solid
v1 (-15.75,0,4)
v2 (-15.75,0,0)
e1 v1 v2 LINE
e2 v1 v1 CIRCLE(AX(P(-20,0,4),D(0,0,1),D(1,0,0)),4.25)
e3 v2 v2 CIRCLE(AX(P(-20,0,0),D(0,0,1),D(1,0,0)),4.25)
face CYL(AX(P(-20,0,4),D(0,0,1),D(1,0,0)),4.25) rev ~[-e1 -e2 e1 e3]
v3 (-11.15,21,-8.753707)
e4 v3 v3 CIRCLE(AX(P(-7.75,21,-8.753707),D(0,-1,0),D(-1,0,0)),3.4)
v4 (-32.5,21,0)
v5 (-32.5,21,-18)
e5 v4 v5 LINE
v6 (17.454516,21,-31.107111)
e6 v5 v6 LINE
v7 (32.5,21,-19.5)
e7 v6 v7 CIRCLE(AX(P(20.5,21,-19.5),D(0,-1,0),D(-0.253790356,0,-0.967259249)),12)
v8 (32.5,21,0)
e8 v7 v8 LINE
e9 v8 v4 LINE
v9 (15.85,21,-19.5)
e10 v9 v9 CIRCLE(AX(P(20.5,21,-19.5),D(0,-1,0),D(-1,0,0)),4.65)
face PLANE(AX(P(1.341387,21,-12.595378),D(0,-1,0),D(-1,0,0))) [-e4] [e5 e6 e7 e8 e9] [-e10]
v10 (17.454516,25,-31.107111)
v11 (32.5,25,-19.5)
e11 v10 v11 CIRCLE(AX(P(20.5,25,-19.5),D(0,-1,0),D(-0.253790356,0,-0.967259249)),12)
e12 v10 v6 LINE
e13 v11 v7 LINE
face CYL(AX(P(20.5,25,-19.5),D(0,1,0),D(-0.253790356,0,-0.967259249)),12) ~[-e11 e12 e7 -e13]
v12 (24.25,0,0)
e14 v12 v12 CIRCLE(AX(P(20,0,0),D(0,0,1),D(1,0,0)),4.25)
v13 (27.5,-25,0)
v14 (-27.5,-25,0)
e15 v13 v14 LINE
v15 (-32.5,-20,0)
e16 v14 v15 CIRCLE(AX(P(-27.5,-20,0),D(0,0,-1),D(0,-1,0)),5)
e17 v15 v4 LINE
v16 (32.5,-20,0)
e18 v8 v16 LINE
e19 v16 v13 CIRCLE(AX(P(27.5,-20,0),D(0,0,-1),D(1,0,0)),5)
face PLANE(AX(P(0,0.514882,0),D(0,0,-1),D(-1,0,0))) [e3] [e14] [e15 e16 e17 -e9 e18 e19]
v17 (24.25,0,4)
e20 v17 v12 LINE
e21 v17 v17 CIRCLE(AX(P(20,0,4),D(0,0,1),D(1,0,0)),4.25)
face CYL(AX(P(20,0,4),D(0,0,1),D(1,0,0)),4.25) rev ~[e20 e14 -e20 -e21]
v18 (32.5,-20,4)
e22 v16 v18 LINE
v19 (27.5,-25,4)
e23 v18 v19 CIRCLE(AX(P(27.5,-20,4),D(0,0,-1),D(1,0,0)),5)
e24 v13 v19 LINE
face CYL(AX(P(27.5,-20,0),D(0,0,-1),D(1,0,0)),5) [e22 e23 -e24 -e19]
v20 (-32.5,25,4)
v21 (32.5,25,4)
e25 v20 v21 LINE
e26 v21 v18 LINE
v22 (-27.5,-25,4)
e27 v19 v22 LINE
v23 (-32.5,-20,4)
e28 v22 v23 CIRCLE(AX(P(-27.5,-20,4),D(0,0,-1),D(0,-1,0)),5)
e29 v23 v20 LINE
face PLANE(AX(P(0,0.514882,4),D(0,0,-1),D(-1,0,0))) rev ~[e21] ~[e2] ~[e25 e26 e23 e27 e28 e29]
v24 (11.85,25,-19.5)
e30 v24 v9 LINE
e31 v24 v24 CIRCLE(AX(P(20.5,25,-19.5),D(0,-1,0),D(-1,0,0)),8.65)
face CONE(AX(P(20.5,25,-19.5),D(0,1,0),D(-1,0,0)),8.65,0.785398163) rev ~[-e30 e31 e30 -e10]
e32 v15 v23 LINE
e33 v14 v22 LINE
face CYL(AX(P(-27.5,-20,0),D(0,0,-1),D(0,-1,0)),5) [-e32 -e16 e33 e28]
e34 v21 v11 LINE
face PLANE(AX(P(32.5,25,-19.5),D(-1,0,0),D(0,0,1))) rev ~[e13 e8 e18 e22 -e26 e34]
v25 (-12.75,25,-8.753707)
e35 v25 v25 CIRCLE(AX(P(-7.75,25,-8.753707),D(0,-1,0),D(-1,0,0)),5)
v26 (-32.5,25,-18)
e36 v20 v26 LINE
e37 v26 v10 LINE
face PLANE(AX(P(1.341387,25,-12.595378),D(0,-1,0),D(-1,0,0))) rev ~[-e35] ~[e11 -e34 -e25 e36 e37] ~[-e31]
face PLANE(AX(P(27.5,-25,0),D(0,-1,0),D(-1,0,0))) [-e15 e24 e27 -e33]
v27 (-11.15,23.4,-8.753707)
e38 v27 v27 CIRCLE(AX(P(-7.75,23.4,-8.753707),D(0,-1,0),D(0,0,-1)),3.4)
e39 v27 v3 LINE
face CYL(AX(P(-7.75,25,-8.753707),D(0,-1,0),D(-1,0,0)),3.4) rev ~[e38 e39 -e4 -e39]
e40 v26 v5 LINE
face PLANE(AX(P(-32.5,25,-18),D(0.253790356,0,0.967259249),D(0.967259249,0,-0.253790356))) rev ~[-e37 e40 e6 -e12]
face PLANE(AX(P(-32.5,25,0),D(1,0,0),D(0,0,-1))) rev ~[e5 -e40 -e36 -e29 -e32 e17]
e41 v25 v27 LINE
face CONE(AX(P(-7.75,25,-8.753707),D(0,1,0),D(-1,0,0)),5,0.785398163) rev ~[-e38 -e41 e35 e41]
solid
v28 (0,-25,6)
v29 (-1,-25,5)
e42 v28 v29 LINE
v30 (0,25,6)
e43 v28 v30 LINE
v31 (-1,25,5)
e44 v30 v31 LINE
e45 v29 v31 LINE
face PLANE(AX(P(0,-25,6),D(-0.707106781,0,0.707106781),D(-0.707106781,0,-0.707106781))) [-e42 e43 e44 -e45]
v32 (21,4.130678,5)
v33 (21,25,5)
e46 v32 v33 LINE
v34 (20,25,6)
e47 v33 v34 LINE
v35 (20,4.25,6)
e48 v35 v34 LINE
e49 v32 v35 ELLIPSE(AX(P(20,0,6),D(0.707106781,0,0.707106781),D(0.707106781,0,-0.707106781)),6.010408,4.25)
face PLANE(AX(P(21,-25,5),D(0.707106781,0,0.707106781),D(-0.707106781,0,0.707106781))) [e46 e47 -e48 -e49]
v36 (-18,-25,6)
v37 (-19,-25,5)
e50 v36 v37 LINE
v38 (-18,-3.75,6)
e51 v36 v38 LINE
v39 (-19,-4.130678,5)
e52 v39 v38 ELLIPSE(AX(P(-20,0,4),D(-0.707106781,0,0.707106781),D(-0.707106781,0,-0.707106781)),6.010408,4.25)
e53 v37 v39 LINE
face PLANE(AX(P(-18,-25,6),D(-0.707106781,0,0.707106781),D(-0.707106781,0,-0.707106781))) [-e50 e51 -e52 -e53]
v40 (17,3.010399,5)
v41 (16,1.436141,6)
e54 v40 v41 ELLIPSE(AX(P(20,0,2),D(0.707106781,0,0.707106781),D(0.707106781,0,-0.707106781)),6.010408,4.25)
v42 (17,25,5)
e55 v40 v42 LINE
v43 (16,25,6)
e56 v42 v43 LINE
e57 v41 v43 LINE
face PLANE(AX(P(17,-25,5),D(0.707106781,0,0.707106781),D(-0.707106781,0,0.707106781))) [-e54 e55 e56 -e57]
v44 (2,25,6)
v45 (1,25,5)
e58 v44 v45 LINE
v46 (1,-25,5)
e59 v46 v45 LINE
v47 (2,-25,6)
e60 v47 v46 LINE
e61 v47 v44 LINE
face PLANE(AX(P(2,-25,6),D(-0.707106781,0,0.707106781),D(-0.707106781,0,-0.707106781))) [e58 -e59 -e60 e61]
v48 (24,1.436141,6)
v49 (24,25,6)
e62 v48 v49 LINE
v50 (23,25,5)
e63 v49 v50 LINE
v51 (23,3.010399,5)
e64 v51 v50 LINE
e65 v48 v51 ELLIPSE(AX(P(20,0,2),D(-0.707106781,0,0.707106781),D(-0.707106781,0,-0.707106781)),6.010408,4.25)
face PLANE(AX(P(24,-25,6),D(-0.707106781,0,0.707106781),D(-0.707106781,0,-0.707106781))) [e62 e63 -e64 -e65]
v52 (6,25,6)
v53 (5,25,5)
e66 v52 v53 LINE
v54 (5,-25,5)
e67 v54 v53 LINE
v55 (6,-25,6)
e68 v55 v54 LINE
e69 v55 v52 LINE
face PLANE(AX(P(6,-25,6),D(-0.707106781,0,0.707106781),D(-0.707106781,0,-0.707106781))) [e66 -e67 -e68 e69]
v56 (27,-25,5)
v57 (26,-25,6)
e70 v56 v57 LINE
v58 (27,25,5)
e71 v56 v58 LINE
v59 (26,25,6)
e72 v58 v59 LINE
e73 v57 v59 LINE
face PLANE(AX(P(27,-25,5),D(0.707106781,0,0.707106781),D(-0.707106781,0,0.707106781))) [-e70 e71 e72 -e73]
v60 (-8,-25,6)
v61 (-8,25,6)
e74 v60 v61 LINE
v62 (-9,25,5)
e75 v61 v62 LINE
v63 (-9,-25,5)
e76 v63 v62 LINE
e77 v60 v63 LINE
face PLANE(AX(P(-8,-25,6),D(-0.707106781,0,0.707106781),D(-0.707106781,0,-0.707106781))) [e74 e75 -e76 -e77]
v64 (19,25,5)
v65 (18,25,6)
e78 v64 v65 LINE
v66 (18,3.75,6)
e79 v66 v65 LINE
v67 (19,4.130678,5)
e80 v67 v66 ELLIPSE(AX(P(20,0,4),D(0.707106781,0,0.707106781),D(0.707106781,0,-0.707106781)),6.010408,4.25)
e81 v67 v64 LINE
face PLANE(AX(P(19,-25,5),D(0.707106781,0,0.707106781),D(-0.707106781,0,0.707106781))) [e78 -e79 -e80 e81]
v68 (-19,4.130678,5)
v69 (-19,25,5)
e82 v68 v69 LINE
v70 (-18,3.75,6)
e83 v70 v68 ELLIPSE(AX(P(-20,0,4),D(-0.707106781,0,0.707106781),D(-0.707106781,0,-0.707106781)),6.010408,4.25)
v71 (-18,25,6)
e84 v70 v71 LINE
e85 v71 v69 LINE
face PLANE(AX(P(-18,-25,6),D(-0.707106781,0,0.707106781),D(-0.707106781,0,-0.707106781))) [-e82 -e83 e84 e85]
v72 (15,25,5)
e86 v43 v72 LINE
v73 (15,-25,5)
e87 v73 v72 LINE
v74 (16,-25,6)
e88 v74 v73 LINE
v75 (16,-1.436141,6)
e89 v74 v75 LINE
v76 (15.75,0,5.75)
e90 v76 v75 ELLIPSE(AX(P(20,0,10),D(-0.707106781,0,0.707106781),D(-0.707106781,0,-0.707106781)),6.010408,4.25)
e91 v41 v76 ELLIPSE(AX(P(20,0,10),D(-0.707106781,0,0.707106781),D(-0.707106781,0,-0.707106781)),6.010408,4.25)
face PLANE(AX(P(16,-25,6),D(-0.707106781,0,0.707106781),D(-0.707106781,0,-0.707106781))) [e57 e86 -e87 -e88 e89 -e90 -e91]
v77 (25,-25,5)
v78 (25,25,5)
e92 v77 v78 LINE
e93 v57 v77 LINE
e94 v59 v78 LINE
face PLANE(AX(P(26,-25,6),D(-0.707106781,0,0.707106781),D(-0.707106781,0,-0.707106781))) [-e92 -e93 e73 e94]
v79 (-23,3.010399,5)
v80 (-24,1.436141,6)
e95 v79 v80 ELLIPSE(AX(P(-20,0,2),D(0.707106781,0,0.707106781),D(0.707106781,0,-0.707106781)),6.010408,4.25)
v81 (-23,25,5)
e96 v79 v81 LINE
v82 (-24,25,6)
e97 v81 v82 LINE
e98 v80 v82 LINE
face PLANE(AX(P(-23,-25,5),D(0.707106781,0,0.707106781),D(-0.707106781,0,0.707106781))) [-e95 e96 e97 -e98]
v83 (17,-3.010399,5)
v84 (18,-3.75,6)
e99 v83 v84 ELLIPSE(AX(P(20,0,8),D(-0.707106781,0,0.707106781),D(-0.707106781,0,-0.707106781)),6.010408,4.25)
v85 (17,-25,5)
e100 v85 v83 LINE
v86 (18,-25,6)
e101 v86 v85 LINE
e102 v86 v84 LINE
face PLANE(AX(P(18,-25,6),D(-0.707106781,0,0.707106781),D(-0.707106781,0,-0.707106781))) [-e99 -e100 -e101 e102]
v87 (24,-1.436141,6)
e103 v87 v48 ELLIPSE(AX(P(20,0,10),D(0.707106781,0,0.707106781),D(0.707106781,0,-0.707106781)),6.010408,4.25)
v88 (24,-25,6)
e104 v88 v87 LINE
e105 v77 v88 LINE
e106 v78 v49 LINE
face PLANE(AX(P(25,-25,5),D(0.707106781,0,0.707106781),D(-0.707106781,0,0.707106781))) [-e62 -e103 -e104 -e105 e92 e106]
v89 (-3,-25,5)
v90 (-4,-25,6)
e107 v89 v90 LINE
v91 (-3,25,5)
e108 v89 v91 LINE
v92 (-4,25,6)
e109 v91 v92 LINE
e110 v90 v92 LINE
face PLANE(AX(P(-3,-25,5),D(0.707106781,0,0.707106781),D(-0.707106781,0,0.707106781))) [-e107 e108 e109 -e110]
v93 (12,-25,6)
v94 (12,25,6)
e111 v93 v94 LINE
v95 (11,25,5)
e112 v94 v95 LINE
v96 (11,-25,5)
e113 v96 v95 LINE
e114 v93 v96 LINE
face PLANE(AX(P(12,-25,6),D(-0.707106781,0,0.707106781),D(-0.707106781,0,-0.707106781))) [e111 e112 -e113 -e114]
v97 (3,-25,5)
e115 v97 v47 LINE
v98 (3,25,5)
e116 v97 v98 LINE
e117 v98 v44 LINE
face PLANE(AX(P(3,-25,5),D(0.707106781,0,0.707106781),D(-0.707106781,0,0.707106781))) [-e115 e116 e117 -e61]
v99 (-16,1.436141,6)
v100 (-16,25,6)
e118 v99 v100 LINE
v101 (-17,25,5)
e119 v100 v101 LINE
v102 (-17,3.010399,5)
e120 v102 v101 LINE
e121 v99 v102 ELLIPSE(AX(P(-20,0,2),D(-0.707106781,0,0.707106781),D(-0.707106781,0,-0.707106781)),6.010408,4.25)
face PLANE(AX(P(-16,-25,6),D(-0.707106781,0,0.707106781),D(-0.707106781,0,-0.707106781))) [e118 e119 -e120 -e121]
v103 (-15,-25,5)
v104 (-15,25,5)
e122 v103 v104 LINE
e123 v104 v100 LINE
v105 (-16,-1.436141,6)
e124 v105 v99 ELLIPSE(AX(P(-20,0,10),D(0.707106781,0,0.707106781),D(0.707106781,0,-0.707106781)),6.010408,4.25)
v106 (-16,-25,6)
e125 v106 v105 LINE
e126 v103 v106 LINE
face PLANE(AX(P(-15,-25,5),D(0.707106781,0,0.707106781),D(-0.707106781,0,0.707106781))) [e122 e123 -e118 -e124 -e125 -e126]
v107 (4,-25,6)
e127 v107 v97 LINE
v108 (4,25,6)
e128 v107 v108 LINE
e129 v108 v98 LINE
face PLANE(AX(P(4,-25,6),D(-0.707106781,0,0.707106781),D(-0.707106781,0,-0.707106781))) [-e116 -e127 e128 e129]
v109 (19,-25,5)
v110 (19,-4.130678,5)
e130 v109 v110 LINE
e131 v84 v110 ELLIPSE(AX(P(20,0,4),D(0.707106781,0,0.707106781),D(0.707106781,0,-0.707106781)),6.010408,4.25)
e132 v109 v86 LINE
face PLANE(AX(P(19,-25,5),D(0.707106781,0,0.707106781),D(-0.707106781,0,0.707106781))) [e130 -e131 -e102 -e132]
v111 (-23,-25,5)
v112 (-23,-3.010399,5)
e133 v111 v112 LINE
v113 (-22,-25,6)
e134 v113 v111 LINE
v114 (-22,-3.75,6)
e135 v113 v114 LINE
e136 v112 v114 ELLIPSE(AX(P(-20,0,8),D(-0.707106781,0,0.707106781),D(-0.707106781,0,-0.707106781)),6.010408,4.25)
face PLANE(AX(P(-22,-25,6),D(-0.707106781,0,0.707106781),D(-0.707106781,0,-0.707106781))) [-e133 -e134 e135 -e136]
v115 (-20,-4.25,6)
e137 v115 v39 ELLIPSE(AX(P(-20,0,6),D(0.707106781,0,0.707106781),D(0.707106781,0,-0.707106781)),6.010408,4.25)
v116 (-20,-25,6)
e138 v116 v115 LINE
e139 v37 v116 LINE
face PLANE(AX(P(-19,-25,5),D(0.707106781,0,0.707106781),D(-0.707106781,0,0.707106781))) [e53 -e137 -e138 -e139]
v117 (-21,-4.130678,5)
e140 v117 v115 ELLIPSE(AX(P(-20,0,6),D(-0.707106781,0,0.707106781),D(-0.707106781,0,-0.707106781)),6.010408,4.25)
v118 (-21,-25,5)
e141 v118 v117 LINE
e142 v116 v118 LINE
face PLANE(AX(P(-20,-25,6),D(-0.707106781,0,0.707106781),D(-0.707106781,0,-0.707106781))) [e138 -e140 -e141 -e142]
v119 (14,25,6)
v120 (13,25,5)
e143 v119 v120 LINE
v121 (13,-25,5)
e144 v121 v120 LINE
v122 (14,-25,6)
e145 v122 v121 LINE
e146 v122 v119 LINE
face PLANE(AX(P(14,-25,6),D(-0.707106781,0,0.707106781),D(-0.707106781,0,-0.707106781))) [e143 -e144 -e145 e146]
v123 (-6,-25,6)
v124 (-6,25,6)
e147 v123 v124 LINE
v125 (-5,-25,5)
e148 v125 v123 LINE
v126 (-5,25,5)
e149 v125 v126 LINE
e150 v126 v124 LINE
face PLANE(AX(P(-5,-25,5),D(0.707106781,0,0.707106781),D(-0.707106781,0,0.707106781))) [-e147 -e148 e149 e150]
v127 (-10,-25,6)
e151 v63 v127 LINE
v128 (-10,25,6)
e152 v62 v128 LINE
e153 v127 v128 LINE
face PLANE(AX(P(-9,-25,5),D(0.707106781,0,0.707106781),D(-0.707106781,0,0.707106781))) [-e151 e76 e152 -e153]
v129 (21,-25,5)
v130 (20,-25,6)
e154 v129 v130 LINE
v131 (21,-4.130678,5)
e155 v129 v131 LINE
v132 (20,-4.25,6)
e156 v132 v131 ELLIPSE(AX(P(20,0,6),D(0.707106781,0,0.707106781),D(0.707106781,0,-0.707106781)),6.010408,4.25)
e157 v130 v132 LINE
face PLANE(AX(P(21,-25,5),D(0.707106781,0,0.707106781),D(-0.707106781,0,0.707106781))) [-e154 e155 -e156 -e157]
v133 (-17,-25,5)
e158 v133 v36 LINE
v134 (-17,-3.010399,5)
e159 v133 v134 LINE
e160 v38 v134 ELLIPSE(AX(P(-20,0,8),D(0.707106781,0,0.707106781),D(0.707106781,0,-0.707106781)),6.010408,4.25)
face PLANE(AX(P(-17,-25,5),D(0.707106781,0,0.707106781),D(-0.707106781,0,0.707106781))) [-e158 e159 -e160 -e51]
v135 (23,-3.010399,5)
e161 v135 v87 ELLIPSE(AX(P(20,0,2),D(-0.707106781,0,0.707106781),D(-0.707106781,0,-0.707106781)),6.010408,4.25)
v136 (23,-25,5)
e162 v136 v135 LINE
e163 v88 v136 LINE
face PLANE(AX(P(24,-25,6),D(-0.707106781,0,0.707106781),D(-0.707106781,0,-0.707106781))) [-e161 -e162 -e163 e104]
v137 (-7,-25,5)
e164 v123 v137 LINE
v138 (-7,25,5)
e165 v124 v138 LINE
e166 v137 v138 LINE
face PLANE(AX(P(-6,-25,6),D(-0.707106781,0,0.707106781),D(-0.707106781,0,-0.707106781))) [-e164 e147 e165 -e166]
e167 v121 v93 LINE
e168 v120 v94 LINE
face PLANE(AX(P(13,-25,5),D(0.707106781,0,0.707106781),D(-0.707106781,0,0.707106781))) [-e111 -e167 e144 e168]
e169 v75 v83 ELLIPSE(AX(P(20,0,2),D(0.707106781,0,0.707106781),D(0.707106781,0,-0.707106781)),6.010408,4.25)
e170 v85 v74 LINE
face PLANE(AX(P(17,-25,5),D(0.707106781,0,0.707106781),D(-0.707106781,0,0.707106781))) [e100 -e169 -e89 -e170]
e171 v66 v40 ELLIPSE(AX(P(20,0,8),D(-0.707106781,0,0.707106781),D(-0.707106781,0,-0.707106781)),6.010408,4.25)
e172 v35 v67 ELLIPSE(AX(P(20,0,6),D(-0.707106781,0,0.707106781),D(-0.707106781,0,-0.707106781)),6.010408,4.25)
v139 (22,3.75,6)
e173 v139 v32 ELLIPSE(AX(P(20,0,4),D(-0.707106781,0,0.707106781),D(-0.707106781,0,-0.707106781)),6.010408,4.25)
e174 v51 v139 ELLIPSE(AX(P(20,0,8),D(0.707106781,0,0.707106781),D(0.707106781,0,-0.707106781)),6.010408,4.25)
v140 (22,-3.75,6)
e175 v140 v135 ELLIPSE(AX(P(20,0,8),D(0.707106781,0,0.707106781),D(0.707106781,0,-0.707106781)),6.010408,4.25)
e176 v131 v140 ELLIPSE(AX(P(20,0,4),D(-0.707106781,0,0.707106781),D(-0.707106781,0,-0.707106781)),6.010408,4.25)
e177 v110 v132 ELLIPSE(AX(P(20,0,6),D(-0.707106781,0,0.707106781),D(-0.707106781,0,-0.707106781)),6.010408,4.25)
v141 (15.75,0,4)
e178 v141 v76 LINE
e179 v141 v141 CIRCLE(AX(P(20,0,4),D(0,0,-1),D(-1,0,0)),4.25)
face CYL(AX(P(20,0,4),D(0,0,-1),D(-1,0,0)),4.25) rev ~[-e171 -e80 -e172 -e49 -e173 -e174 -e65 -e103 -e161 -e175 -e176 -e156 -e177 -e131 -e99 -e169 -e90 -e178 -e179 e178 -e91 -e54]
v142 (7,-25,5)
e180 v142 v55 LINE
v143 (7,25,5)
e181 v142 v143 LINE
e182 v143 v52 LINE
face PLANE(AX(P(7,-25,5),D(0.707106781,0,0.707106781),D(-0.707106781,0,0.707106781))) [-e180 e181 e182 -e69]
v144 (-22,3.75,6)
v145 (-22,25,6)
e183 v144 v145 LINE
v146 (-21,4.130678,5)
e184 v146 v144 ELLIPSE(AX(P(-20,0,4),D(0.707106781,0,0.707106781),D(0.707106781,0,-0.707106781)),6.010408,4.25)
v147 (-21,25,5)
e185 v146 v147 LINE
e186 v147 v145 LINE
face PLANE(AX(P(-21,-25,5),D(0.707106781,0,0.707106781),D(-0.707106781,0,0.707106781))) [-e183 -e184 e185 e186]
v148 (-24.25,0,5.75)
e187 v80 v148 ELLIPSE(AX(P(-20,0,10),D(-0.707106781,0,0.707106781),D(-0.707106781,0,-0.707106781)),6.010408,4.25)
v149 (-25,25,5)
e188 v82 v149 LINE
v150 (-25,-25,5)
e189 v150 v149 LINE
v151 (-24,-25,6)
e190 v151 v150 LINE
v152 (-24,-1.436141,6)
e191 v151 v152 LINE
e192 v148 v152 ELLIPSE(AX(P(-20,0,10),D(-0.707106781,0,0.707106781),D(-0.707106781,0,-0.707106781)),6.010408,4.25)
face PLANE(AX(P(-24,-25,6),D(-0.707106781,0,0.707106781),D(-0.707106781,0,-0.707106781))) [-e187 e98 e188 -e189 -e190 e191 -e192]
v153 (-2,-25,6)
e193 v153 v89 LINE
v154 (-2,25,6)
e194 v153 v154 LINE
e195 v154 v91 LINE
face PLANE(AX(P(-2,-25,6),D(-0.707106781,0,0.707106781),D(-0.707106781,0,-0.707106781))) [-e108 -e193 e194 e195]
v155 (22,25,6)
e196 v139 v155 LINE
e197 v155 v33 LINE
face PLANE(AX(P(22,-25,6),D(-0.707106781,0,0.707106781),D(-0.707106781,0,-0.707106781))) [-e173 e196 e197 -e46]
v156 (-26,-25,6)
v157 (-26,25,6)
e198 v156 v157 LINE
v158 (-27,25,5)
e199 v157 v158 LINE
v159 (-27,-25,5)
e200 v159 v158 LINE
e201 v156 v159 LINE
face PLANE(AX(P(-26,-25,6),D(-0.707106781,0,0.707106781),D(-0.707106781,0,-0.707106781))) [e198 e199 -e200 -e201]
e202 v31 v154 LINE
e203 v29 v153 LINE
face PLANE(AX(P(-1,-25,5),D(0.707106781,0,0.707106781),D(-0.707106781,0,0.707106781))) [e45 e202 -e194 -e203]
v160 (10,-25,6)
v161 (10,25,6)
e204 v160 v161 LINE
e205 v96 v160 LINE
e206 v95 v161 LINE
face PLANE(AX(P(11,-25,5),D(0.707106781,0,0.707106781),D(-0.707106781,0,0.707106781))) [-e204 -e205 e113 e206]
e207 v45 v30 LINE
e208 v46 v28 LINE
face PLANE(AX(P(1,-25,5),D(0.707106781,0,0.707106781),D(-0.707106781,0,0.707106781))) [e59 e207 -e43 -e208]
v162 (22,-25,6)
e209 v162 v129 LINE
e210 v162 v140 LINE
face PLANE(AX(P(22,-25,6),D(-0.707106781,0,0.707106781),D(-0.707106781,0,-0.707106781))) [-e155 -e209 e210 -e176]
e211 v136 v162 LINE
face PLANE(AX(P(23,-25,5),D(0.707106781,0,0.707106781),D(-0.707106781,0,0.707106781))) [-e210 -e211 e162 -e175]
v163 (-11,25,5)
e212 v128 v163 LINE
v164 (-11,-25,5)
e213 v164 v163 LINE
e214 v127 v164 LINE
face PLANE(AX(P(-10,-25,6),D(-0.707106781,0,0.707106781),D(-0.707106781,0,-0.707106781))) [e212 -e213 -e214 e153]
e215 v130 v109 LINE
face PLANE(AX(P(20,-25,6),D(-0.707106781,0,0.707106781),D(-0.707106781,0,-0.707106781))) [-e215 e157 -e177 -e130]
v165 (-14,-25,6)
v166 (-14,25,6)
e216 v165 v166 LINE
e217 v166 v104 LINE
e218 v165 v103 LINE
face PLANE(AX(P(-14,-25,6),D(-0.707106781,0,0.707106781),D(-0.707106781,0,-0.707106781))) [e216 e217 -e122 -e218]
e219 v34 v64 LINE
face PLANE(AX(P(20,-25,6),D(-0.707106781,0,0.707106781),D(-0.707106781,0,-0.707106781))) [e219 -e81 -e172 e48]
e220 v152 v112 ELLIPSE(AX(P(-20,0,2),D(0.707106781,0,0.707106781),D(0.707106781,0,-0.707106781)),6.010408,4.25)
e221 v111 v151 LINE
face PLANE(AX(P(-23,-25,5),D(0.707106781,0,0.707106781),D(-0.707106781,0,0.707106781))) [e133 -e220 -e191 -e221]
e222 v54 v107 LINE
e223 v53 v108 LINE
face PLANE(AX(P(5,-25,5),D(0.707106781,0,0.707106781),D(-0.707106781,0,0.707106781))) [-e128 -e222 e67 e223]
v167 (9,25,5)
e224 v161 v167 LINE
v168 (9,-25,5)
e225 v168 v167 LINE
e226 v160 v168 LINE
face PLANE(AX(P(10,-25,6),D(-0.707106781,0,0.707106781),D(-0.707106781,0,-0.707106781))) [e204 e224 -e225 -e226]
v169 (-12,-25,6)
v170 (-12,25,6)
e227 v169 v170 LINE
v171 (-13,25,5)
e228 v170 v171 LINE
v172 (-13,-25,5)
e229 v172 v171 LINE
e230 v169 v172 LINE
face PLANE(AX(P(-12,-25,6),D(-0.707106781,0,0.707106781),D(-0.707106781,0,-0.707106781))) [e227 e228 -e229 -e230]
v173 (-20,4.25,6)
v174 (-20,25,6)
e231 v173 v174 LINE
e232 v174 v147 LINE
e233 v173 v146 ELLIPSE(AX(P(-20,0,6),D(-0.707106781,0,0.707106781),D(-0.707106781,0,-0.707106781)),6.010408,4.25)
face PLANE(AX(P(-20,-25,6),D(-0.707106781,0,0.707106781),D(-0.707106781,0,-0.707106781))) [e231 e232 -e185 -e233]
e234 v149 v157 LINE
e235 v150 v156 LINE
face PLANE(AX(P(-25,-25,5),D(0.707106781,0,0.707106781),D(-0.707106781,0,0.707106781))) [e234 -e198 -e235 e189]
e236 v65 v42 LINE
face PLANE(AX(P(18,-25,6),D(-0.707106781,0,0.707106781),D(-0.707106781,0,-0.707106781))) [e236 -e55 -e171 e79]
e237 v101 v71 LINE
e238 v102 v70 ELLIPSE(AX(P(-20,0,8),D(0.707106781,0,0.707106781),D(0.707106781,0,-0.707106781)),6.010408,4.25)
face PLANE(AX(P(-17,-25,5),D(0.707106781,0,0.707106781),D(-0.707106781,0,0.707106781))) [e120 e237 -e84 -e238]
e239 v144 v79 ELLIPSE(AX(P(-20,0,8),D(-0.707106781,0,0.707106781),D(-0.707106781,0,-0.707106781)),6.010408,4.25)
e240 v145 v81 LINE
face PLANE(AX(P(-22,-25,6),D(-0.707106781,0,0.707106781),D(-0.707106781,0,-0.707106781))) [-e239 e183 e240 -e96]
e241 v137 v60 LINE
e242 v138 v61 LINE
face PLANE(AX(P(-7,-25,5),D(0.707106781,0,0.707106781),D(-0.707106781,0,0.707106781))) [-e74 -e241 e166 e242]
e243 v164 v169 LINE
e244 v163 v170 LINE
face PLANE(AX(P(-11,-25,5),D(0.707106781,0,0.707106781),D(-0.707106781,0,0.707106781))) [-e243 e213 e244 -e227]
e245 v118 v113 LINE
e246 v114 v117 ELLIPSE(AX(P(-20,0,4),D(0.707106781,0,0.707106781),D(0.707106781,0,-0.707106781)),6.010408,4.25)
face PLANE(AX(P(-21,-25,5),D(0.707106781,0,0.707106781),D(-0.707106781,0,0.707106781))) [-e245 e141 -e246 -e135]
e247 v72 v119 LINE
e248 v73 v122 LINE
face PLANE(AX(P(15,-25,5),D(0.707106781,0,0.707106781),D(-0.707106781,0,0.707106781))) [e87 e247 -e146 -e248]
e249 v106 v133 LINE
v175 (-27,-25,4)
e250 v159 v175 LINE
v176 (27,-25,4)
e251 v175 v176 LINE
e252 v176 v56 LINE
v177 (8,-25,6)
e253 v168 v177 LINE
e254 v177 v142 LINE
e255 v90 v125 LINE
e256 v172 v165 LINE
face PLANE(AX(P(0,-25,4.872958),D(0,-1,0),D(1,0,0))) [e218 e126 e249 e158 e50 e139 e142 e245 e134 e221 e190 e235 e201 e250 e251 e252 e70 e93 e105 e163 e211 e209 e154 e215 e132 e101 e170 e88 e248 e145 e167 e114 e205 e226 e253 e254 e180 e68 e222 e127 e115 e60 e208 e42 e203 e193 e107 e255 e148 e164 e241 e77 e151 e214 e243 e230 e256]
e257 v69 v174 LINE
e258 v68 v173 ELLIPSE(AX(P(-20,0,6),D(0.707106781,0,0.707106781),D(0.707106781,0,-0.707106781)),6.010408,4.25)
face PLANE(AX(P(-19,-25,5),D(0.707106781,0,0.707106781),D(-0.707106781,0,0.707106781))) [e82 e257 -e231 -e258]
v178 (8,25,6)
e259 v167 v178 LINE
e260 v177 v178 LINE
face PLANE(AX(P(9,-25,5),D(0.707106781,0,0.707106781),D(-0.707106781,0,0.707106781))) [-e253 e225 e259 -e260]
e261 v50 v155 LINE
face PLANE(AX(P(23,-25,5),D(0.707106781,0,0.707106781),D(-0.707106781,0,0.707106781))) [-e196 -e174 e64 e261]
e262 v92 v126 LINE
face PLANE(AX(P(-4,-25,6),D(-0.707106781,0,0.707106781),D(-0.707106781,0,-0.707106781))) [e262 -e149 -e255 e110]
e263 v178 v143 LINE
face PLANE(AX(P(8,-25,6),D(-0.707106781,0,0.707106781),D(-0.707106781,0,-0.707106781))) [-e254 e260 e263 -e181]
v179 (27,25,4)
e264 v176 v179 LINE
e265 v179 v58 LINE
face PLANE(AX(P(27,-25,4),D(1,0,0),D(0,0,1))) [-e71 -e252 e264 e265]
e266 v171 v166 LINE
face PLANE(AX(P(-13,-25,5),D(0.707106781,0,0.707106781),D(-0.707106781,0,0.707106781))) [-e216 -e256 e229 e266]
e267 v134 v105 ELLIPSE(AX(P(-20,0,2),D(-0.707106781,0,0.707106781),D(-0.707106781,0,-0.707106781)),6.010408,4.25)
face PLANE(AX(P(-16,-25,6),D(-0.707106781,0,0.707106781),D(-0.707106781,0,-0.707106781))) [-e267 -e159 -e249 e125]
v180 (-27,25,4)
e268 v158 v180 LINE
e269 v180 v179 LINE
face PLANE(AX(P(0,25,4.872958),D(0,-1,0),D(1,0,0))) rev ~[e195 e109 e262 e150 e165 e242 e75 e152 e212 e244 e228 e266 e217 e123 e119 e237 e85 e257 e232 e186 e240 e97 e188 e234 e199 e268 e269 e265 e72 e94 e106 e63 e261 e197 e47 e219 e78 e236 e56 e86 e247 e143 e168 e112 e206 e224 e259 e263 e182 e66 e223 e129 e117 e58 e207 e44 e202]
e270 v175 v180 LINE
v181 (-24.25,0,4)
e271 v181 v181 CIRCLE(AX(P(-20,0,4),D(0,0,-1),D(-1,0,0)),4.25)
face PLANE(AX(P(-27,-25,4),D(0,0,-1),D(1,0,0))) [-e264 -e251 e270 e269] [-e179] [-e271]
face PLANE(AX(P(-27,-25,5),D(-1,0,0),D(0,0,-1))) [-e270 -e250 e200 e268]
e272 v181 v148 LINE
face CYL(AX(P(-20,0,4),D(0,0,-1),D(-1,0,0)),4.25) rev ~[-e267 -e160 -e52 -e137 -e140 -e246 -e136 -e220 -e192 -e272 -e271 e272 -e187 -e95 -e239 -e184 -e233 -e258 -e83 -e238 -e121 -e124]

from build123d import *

# Parameters (mm, degrees)
BOSS_EXTRU_1_DEPTH                             = 4
BOSS_EXTRU_2_DEPTH                             = 4
ESQUISSE3_R                                    = 4.25
ENL_V_MAT_EXTRU_1_DEPTH                        = 4
FRAISAGE_POUR_VIS_T_TE_FRAIS_E_M81_D           = 9
FRAISAGE_POUR_VIS_T_TE_FRAIS_E_M81_CSINK_D     = 17.3
FRAISAGE_POUR_VIS_T_TE_FRAIS_E_M81_CSINK_ANGLE = 90
TROU_TARAUD_M81_D                              = 6.8
TROU_TARAUD_M81_CSINK_D                        = 10
TROU_TARAUD_M81_CSINK_ANGLE                    = 90
BOSS_EXTRU_3_DEPTH                             = 50
ESQUISSE9_R                                    = 4.25
ENL_V_MAT_EXTRU_2_DEPTH                        = 3


with BuildPart() as part:
    # Esquisse1 → Boss.-Extru.1 (new body)
    with BuildSketch(Plane.XY):
        with BuildLine():
            Line((-32.5, 25), (32.5, 25))
            Line((32.5, 25), (32.5, -20))
            ThreePointArc((32.5, -20), (31.035533906, -23.535533906), (27.5, -25))
            Line((27.5, -25), (-27.5, -25))
            ThreePointArc((-27.5, -25), (-31.035533906, -23.535533906), (-32.5, -20))
            Line((-32.5, -20), (-32.5, 25))
        make_face()
    extrude(amount=BOSS_EXTRU_1_DEPTH)

    # Esquisse2 → Boss.-Extru.2 (add)
    with BuildSketch(Plane(origin=(0, 25, 0), x_dir=(1, 0, 0), z_dir=(0, 1, 0))):
        with BuildLine():
            Line((-32.5, 0), (-32.5, 18))
            Line((-32.5, 18), (17.454515727, 31.10711099))
            ThreePointArc((17.454515727, 31.10711099), (27.829876831, 29.001205484), (32.5, 19.5))
            Line((32.5, 19.5), (32.5, 0))
            Line((32.5, 0), (-32.5, 0))
        make_face()
    extrude(amount=-BOSS_EXTRU_2_DEPTH)

    # Esquisse3 → Enlèv. mat.-Extru.1 (cut)
    with BuildSketch(Plane.XY.offset(4)):
        with Locations((20, 0)):
            Circle(ESQUISSE3_R)
        with Locations((-20, 0)):
            Circle(ESQUISSE3_R)
    extrude(amount=-ENL_V_MAT_EXTRU_1_DEPTH, mode=Mode.SUBTRACT)

    # Fraisage pour vis à tête fraisée M81 (through all)
    with Locations(Plane(origin=(0, 25, 0), x_dir=(1, 0, 0), z_dir=(0, 1, 0))):
        with Locations((20.5, 19.5)):
            CounterSinkHole(FRAISAGE_POUR_VIS_T_TE_FRAIS_E_M81_D / 2, FRAISAGE_POUR_VIS_T_TE_FRAIS_E_M81_CSINK_D / 2, counter_sink_angle=FRAISAGE_POUR_VIS_T_TE_FRAIS_E_M81_CSINK_ANGLE)

    # Trou taraudé M81 (through all)
    with Locations(Plane(origin=(0, 25, 0), x_dir=(1, 0, 0), z_dir=(0, 1, 0))):
        with Locations((-7.75, 8.753707136)):
            CounterSinkHole(TROU_TARAUD_M81_D / 2, TROU_TARAUD_M81_CSINK_D / 2, counter_sink_angle=TROU_TARAUD_M81_CSINK_ANGLE)


with BuildPart() as body_2:
    # Esquisse8 → Boss.-Extru.3 (new body)
    with BuildSketch(Plane.XZ.offset(25)):
        Polygon((27, 4), (27, 5), (26, 6), (25, 5), (24, 6), (23, 5), (22, 6), (21, 5), (20, 6), (19, 5), (18, 6), (17, 5), (16, 6), (15, 5), (14, 6), (13, 5), (12, 6), (11, 5), (10, 6), (9, 5), (8, 6), (7, 5), (6, 6), (5, 5), (4, 6), (3, 5), (2, 6), (1, 5), (0, 6), (-1, 5), (-2, 6), (-3, 5), (-4, 6), (-5, 5), (-6, 6), (-7, 5), (-8, 6), (-9, 5), (-10, 6), (-11, 5), (-12, 6), (-13, 5), (-14, 6), (-15, 5), (-16, 6), (-17, 5), (-18, 6), (-19, 5), (-20, 6), (-21, 5), (-22, 6), (-23, 5), (-24, 6), (-25, 5), (-26, 6), (-27, 5), (-27, 4), align=None)
    extrude(amount=-BOSS_EXTRU_3_DEPTH)

    # Esquisse9 → Enlèv. mat.-Extru.2 (cut, through all)
    with BuildSketch(Plane(origin=(0, 0, 4), x_dir=(-1, 0, 0), z_dir=(0, 0, -1))):
        with Locations((-20, 0)):
            Circle(ESQUISSE9_R)
        with Locations((20, 0)):
            Circle(ESQUISSE9_R)
    extrude(amount=-ENL_V_MAT_EXTRU_2_DEPTH, mode=Mode.SUBTRACT)


solid = Compound([part.part, body_2.part])
